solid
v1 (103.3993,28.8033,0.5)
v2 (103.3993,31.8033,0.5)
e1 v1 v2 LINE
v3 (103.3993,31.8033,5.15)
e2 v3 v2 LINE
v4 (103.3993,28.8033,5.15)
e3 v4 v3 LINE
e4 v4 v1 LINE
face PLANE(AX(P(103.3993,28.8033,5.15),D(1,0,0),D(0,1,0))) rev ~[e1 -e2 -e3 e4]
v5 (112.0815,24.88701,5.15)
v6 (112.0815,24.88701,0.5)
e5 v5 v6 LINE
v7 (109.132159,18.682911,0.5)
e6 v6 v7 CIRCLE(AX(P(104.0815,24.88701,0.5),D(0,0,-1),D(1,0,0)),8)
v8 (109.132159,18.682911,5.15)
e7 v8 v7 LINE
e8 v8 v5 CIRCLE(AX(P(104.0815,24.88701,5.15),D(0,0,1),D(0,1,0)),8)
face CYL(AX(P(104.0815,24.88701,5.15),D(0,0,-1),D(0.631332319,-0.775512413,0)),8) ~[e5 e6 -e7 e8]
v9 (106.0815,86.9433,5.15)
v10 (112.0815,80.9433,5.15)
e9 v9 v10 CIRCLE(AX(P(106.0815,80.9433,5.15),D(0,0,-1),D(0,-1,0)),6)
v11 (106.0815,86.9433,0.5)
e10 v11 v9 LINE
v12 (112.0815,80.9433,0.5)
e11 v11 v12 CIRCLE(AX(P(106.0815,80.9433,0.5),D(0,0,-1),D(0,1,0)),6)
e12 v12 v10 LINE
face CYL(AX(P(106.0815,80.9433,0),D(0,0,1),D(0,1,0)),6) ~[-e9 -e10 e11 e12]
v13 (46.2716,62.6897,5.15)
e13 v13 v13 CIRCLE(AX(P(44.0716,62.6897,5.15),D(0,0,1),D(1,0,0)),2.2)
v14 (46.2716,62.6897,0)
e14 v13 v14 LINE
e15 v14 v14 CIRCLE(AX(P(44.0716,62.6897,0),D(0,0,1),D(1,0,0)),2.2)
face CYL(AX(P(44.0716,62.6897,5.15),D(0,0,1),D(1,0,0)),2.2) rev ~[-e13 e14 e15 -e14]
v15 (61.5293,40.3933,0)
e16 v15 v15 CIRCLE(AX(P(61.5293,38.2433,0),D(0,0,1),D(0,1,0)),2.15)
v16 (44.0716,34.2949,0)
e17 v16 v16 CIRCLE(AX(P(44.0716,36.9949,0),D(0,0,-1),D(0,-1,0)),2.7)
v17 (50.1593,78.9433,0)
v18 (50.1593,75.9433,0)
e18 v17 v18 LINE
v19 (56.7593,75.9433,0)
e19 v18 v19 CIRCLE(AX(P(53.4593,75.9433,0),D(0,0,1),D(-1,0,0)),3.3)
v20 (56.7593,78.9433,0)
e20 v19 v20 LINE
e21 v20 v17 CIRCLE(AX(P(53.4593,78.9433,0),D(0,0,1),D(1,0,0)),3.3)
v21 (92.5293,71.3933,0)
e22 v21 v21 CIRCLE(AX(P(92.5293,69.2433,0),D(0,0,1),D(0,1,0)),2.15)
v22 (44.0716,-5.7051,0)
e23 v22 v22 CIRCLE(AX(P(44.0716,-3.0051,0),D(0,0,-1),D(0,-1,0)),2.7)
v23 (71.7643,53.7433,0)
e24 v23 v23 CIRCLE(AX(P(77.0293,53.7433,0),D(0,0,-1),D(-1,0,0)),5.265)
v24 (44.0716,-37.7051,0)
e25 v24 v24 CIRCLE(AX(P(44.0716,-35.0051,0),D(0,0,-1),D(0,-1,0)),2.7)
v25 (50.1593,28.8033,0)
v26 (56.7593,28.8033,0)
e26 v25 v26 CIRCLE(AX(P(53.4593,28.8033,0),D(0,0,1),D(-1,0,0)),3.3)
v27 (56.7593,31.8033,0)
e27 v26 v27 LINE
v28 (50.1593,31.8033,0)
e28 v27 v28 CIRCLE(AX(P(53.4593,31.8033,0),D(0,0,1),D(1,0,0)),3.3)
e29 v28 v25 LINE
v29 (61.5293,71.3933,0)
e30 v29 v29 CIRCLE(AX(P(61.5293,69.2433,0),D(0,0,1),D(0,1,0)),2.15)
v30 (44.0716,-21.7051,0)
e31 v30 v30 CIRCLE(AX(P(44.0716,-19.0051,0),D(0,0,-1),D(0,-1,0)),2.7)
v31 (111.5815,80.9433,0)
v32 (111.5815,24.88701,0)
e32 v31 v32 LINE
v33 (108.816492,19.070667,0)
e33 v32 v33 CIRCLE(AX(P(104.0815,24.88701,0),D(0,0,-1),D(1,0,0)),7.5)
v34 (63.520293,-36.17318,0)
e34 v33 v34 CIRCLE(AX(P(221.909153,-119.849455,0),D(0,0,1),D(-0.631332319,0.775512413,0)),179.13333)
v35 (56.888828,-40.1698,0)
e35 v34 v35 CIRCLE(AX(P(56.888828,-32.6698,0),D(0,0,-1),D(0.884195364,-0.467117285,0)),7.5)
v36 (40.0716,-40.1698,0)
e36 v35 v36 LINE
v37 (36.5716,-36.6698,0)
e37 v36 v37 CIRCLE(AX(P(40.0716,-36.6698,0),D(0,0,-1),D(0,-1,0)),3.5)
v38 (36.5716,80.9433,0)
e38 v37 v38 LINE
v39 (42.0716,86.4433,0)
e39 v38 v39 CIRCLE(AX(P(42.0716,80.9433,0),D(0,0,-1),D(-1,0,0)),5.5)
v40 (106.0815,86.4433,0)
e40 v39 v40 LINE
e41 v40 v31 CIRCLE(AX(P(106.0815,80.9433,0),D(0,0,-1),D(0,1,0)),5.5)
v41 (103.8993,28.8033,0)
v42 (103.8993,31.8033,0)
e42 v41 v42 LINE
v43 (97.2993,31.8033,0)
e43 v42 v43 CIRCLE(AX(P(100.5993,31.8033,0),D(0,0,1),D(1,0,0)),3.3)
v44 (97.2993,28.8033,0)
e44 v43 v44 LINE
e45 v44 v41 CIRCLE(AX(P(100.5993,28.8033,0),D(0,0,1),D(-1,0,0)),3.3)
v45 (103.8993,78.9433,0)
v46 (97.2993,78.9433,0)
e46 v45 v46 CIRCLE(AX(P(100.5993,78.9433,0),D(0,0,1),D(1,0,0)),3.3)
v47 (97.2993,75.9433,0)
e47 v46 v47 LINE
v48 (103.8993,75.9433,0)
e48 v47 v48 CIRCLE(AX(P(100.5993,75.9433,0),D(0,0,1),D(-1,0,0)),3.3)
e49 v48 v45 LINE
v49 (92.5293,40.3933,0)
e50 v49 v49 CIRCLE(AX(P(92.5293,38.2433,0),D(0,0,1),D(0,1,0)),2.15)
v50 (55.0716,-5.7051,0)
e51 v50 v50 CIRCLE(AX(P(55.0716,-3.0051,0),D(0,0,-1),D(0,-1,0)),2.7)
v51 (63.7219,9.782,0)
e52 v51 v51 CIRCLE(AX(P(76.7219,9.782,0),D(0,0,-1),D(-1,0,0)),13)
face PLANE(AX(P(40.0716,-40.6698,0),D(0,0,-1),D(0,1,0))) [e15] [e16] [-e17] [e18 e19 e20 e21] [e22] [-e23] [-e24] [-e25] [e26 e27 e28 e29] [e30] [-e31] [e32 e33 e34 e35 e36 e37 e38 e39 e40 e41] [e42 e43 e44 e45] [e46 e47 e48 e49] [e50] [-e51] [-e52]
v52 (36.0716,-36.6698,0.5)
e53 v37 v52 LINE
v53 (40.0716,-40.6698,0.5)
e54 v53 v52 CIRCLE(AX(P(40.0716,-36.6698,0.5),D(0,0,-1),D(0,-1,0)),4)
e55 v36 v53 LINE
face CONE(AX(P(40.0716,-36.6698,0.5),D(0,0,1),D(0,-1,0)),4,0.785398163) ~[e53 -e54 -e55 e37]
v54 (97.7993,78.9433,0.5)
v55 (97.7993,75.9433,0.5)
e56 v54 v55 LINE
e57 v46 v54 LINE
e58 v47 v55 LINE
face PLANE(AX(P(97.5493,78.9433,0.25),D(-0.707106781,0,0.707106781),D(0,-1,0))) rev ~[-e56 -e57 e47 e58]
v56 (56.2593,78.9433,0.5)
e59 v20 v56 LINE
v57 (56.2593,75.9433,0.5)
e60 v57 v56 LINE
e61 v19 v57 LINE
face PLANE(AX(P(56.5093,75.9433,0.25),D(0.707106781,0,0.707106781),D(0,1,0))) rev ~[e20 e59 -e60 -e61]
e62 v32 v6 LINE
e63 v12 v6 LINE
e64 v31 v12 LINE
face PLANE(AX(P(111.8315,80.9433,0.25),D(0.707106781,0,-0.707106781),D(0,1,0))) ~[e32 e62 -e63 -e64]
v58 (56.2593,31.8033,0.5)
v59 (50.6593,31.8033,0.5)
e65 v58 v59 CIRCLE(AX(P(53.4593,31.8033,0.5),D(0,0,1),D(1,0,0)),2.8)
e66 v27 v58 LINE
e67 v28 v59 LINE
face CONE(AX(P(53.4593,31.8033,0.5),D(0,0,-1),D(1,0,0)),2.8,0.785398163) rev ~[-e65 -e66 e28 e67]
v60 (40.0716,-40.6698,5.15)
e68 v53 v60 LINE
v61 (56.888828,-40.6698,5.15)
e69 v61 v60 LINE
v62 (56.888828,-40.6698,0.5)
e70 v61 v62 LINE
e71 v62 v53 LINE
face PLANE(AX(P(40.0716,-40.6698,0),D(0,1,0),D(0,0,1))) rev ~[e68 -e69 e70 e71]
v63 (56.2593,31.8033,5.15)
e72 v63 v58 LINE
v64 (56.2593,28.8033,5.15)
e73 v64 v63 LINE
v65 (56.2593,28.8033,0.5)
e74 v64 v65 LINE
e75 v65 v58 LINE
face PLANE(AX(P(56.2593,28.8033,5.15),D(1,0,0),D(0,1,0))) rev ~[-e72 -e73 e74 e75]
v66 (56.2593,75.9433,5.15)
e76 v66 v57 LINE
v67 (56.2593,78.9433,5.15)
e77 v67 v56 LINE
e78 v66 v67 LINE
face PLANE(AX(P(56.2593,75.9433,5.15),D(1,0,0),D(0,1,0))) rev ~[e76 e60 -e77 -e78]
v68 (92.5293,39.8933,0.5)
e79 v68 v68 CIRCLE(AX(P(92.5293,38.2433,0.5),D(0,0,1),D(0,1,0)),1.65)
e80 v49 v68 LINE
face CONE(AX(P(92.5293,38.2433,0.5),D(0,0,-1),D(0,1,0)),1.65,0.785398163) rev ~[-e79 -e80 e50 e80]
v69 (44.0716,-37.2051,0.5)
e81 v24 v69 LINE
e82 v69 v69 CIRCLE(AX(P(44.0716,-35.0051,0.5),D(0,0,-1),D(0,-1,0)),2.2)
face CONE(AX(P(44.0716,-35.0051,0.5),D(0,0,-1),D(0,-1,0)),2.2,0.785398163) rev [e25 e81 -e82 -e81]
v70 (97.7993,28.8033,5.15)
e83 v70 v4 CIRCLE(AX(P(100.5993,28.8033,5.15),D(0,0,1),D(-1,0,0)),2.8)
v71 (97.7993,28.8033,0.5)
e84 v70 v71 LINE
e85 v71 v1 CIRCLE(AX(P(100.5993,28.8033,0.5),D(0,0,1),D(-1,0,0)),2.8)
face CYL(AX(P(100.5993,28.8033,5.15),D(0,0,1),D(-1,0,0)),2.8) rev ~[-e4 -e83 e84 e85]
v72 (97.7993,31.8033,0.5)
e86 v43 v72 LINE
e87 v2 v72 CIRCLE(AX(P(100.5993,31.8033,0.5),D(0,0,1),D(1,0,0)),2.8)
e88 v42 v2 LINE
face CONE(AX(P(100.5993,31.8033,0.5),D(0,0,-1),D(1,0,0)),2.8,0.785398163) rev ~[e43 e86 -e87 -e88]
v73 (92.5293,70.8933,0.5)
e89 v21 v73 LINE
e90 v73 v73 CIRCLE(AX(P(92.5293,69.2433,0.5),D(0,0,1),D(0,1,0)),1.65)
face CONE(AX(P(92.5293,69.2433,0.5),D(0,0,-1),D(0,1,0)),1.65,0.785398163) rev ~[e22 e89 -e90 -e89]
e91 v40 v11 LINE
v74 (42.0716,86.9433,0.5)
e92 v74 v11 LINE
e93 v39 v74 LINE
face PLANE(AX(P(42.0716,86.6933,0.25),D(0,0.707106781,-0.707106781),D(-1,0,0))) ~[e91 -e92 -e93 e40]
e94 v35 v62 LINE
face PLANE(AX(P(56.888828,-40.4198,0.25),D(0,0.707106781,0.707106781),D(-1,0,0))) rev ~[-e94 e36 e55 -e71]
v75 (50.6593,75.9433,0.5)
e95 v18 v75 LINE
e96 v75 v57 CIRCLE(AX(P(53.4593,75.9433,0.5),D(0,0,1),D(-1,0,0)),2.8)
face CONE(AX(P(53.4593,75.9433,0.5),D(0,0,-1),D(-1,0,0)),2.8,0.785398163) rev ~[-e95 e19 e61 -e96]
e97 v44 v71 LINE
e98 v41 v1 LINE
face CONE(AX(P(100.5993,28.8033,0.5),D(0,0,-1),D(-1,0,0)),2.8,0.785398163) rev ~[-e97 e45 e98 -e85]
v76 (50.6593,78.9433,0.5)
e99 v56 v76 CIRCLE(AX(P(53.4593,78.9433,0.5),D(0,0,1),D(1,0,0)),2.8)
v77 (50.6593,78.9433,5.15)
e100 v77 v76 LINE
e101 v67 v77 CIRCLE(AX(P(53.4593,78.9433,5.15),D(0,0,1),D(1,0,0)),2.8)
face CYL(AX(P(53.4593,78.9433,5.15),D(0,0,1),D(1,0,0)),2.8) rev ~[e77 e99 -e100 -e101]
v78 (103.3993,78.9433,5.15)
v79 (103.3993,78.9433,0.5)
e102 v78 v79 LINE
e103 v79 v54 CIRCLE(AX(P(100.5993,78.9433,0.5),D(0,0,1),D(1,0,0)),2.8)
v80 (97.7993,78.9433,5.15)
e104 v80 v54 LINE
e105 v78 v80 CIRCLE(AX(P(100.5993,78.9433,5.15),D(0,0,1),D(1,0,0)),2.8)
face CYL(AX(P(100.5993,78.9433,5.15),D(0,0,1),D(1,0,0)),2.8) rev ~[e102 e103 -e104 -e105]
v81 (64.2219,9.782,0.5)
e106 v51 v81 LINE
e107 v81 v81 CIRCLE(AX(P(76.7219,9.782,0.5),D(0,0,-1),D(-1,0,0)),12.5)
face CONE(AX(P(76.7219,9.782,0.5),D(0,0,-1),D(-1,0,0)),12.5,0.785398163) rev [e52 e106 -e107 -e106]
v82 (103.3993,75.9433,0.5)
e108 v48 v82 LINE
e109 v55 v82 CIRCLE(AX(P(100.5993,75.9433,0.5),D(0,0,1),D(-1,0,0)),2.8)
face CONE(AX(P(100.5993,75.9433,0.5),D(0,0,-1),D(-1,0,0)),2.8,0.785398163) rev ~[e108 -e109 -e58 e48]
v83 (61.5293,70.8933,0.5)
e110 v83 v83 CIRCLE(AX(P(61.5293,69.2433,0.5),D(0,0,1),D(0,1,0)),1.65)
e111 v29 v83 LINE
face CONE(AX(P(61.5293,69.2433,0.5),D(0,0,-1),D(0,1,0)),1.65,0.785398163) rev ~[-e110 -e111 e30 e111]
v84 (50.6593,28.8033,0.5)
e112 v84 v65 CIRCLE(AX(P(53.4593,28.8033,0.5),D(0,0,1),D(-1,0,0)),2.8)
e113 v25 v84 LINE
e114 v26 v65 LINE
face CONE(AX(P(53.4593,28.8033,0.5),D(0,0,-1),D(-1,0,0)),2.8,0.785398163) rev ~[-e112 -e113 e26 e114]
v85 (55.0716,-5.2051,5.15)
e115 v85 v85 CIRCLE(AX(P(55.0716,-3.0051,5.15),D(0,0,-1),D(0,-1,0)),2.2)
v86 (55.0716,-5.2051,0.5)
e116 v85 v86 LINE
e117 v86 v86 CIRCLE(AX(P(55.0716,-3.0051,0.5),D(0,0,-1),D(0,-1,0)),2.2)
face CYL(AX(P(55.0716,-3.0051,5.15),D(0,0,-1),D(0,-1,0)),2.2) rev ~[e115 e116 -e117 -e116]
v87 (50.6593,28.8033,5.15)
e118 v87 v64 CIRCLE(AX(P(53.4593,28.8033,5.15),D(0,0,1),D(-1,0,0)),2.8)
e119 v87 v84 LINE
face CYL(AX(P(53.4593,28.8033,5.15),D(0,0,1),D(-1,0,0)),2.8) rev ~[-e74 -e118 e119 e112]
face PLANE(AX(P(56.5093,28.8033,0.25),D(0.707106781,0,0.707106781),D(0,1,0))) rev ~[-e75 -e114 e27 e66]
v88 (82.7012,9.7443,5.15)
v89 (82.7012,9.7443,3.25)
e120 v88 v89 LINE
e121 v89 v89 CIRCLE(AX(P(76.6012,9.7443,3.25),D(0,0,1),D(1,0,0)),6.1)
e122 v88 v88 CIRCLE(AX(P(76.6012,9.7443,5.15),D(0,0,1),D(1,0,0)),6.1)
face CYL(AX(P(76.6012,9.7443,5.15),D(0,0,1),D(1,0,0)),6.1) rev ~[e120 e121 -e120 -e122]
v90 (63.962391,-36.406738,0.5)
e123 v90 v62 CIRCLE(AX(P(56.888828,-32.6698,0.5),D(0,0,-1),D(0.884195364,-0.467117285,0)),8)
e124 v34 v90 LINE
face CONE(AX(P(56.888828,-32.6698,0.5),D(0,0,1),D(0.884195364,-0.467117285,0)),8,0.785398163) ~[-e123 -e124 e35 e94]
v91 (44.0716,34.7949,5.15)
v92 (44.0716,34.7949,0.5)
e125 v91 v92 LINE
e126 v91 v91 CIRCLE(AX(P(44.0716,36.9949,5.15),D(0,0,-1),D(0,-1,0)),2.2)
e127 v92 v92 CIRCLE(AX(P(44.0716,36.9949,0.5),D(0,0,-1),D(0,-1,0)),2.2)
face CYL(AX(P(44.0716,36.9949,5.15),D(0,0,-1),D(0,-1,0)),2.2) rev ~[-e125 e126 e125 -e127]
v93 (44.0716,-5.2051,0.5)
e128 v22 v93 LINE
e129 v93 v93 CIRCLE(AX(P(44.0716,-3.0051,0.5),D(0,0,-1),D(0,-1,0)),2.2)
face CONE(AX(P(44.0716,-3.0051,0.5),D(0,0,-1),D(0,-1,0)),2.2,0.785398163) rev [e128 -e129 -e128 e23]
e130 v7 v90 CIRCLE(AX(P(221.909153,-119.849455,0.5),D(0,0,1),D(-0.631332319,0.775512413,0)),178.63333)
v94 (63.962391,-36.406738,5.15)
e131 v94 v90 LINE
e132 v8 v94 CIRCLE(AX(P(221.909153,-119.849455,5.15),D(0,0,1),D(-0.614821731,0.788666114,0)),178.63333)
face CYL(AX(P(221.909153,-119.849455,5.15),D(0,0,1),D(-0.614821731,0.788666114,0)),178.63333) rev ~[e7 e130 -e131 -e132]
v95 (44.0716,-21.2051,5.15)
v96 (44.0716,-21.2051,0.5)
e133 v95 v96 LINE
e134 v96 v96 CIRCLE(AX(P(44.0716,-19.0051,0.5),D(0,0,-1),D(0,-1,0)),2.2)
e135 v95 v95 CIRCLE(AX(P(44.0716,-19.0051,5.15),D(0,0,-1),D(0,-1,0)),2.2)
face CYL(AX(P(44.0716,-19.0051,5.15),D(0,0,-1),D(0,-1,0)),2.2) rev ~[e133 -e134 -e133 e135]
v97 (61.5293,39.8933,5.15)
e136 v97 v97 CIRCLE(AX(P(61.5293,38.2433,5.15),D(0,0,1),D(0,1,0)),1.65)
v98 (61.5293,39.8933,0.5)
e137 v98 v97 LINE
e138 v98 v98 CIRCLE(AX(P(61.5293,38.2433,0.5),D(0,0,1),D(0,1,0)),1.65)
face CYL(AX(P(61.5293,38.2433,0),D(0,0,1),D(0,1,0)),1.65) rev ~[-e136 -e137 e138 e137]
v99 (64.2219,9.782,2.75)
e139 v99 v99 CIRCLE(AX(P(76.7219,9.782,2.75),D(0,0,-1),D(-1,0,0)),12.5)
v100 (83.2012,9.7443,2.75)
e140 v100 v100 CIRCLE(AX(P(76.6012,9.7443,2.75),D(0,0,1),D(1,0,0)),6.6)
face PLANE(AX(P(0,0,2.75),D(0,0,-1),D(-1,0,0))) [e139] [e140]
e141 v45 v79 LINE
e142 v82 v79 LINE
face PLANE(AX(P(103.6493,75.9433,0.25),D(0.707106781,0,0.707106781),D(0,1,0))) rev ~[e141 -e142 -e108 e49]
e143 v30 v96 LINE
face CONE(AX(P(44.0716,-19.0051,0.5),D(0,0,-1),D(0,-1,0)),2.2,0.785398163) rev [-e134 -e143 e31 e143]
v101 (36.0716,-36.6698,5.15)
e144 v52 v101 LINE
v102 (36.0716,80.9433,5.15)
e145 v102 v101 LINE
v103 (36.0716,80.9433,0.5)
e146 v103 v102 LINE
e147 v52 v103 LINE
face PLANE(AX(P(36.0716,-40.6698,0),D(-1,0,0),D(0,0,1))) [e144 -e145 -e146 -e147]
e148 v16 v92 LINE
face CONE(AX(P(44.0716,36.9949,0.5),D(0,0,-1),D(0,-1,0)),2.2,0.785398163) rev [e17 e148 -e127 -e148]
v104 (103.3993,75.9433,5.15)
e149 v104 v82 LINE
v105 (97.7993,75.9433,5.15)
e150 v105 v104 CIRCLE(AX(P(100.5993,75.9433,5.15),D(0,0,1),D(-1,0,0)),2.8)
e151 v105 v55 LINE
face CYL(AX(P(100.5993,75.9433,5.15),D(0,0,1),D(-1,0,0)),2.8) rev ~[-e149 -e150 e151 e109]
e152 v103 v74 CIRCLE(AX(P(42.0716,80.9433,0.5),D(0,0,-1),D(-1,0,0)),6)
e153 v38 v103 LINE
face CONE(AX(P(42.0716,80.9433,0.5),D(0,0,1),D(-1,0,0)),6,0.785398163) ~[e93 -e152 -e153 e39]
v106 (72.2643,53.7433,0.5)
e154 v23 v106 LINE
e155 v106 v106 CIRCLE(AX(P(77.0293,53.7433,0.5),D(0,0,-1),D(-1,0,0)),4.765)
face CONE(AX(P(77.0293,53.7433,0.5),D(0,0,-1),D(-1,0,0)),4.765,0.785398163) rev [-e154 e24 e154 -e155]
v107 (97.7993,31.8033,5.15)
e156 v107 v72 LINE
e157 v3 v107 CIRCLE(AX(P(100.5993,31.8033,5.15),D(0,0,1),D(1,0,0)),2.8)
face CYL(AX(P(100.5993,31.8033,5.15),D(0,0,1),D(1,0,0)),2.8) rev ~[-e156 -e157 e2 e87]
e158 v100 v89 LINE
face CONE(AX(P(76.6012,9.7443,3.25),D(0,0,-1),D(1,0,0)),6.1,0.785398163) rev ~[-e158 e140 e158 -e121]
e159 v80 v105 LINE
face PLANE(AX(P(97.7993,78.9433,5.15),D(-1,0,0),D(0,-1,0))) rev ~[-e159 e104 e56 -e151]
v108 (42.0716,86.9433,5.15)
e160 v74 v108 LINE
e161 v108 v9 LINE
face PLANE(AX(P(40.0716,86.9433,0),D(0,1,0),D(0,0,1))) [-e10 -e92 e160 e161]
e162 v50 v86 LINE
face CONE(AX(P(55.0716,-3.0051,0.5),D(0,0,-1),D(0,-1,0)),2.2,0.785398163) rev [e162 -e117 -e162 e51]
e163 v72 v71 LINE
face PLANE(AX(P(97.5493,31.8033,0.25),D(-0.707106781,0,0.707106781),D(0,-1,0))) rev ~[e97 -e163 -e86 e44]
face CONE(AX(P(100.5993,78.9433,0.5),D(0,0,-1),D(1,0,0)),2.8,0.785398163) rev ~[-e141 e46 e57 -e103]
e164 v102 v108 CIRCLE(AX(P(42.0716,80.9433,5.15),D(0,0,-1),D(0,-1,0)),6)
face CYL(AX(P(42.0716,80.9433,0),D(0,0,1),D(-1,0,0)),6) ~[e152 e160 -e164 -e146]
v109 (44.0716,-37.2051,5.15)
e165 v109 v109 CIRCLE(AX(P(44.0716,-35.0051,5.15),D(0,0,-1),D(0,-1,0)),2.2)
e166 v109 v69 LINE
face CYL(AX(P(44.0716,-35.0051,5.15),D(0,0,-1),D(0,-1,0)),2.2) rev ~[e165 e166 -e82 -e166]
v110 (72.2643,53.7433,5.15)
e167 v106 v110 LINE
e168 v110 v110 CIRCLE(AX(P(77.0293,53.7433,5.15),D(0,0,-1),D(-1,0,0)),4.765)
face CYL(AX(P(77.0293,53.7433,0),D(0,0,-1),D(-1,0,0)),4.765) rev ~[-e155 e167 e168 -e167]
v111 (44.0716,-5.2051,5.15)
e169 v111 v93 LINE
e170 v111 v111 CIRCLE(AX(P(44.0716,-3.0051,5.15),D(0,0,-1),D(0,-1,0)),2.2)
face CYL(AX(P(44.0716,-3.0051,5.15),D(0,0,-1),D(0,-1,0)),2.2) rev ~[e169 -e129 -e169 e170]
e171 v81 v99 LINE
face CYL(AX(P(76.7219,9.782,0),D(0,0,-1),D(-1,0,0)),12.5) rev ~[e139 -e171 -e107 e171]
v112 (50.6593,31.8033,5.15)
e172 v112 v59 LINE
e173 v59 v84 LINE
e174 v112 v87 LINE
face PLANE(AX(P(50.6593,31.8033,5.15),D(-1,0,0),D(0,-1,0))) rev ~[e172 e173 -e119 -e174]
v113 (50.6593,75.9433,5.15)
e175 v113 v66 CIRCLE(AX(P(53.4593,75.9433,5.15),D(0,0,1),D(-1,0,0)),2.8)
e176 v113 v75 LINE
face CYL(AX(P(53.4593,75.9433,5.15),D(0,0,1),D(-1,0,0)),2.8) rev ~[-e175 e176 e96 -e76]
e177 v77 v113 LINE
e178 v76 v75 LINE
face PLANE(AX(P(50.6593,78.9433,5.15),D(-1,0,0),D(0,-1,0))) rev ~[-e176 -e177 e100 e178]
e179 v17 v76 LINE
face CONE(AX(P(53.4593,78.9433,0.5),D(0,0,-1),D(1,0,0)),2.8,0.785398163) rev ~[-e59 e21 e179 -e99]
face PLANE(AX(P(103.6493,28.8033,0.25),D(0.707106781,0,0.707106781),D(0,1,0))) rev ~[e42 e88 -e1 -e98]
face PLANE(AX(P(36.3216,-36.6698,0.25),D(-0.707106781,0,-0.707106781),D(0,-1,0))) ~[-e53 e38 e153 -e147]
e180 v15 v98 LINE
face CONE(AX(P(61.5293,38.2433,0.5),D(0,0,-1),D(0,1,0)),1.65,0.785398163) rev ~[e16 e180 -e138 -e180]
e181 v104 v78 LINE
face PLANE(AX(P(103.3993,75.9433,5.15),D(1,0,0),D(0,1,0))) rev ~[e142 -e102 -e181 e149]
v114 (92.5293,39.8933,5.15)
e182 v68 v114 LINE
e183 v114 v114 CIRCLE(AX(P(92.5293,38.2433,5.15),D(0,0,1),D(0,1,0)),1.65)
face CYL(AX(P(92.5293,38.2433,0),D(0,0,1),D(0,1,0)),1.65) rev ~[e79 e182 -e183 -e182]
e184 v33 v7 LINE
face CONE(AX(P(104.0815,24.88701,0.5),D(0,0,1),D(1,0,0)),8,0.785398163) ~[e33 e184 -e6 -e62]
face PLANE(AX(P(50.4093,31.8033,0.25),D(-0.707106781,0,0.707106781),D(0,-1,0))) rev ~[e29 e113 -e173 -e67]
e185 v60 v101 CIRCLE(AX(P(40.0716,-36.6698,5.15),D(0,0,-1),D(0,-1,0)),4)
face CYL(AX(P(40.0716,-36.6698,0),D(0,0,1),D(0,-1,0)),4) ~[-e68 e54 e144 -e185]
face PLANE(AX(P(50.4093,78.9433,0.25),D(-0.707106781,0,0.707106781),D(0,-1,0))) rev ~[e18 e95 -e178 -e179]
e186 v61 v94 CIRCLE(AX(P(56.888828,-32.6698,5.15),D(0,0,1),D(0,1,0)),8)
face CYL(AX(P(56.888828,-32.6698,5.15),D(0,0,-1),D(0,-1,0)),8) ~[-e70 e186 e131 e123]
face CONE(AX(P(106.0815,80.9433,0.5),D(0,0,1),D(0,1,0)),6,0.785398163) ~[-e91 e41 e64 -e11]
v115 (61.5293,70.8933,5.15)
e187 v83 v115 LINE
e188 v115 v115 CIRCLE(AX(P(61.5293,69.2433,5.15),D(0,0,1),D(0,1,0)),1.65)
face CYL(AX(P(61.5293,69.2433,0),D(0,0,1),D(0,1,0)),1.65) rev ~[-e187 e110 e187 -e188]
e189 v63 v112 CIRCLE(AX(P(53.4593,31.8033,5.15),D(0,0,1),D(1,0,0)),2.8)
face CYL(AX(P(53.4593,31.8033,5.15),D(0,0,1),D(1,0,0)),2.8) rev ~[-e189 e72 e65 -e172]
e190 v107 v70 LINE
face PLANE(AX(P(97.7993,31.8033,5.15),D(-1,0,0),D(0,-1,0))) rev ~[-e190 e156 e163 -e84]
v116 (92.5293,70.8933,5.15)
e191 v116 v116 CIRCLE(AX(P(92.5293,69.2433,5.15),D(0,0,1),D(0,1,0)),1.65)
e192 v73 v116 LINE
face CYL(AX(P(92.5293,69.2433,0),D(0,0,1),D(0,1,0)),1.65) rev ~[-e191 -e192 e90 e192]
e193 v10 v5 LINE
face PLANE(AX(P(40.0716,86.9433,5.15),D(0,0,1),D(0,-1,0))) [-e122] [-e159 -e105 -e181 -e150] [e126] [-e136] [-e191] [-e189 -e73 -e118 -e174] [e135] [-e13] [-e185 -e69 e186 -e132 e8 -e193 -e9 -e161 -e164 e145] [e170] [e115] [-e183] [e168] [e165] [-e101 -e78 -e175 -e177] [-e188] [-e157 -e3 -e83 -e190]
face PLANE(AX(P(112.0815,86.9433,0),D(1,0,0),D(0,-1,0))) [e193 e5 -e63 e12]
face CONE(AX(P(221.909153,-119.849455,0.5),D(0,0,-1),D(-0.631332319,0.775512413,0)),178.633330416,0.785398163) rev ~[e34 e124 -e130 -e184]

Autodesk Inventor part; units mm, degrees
ref_plane "YZ Plane" through (0, 0, 0) normal (1, 0, 0) x (0, 1, 0)
ref_plane "XZ Plane" through (0, 0, 0) normal (0, 1, 0) x (-1, 0, 0)
sketch "Sketch1" plane through (0, 0, 0) normal (0, 0, 1) x (1, 0, 0)
  line L0 (112.0815, -40.6698) -> (40.0716, -40.6698)
  line L1 (40.0716, -40.6698) -> (40.0716, 86.9433)
  line L2 (40.0716, 86.9433) -> (112.0815, 86.9433)
  line L3 (112.0815, 86.9433) -> (112.0815, -40.6698)
  line L4 (40.0716, -40.6698) -> (50.0716, -40.6698) construction
  point P0 (0, 0)
extrude "Extrusion1" add sketch "Sketch1" along normal blind 5.15
sketch "Sketch2" plane through (0, 0, 5.15) normal (0, 0, 1) x (1, 0, 0)
  point P0 (0, 0)
sketch "Sketch4" plane through (0, 0, 5.15) normal (0, 0, 1) x (1, 0, 0)
  circle A0 centre (102.6515, 97.6673) radius 2.8 construction
  circle A1 centre (53.4593, 78.9433) radius 2.8 construction
  circle A2 centre (55.5115, 50.5273) radius 2.8 construction
  circle A3 centre (102.6515, 50.5273) radius 2.8 construction
  line L0 (53.4593, 78.9433) -> (53.4593, 75.9433) construction
  line L1 (50.6593, 78.9433) -> (50.6593, 75.9433)
  line L2 (56.2593, 75.9433) -> (56.2593, 78.9433)
  arc A4 (56.2593, 78.9433) -> (50.6593, 78.9433) centre (53.4593, 78.9433) ccw
  arc A5 (50.6593, 75.9433) -> (56.2593, 75.9433) centre (53.4593, 75.9433) ccw
  line L3 (40.0716, 86.9433) -> (40.0716, -40.6698) projected
  line L4 (112.0815, 86.9433) -> (40.0716, 86.9433) projected
  circle A6 centre (53.4593, 77.3133) radius 5 projected
  line L5 (53.4593, 77.3133) -> (53.4593, 77.5733) construction
  point P0 (0, 0)
  point P1 (53.4593, 77.4433)
  point P2 (40.0716, -42.6698)
  point P3 (53.4593, 77.4433)
  dimension "d7" = 3
  dimension "d27" = 5.6
  dimension "d29" = 8
extrude "Extrusion3" cut sketch "Sketch4" against normal through all contours A4 L2 A5 L1
pattern_linear "Rectangular Pattern1" count 2 spacing 47.14 along (1, 0, 0) count 2 spacing 47.14 along (0, -1, 0) of "Extrusion3"
sketch "Sketch9" plane through (0, 0, 5.15) normal (0, 0, 1) x (1, 0, 0)
  point P0 (55.0716, -3.0051)
  point P1 (44.0716, -3.0051)
  point P2 (44.0716, -19.0051)
  point P3 (44.0716, -35.0051)
  point P4 (44.0716, 36.9949)
hole "Hole1" at (55.0716, -3.0051, 5.15) at (44.0716, -3.0051, 5.15) at (44.0716, -19.0051, 5.15) at (44.0716, -35.0051, 5.15) at (44.0716, 36.9949, 5.15) direction (0, 0, -1) diameter 4.4 depth 5.15
sketch "Sketch12" plane through (0, 0, 5.15) normal (0, 0, 1) x (1, 0, 0)
  line L0 (40.0716, -40.6698) -> (112.0815, -40.6698) projected
  arc A0 (112.0815, 21.0326) -> (61.7828, -40.6698) centre (221.9091, -119.8494) ccw
  line L1 (112.0815, -40.6698) -> (112.0815, 86.9433) projected
  point P0 (0, 0)
extrude "Extrusion9" cut sketch "Sketch12" against normal through all
fillet "Fillet1" radius 8 2 edges at (61.7828, -40.6698, 2.575) (112.0815, 21.0326, 2.575)
ref_plane "Work Plane1" through (16.3274, 9.3302, 5.6189) normal (-0.0349, 0, -0.9994) x (0, 1, 0)
sketch "Sketch14" plane through (40.0716, -40.6698, 0) normal (-1, 0, 0) x (0, 0, 1)
  line L0 (0, 0) -> (0, 127.6131) projected
  line L1 (0, 0) -> (5.15, 0) projected
  line L2 (5.15, 127.6131) -> (5.15, 0) projected
  line L3 (0, 127.6131) -> (5.15, 127.6131) projected
  point P0 (0, 40.6698)
extrude "Extrusion11" add sketch "Sketch14" along normal blind 4
fillet "Fillet4" radius 4 1 edges at (36.0716, -40.6698, 2.575)
fillet "Fillet5" radius 6 2 edges at (36.0716, 86.9433, 2.575) (112.0815, 86.9433, 2.575)
sketch "Sketch15" plane through (0, 0, 0) normal (0, 0, -1) x (-1, 0, 0)
  circle A0 centre (-77.0293, 53.7433) radius 3.175 construction
  circle A1 centre (-77.0293, 53.7433) radius 3.175 construction
  circle A2 centre (-77.0293, 53.7433) radius 3.475 construction
  circle A3 centre (-77.0293, 53.7433) radius 3.475 construction
  circle A4 centre (-77.0293, 53.7433) radius 4.765
  point P0 (0, 0)
  dimension "d67" = 9.53
extrude "Extrusion12" cut sketch "Sketch15" against normal through all
sketch "Sketch16" plane through (0, 0, 5.15) normal (0, 0, 1) x (1, 0, 0)
  circle A0 centre (76.6012, 9.7443) radius 6.1
  point P0 (0, 0)
  dimension "d68" = 12.2
extrude "Extrusion13" cut sketch "Sketch16" against normal through all
sketch "Sketch17" plane through (0, 0, 0) normal (0, 0, -1) x (-1, 0, 0)
  circle A0 centre (-76.7219, 9.782) radius 12.5
  point P0 (0, 0)
  dimension "d71" = 25
extrude "Extrusion14" cut sketch "Sketch17" against normal blind 2.75
sketch "Sketch18" plane through (0, 0, 0) normal (0, 0, -1) x (-1, 0, 0)
  circle A0 centre (-92.5293, 69.2433) radius 1.25 construction
  circle A1 centre (-61.5293, 69.2433) radius 1.25 construction
  circle A2 centre (-92.5293, 38.2433) radius 1.25 construction
  circle A3 centre (-61.5293, 38.2433) radius 1.25 construction
  point P0 (0, 0)
hole "Hole2" at (92.5293, 69.2433, 0) at (61.5293, 69.2433, 0) at (61.5293, 38.2433, 0) at (92.5293, 38.2433, 0) direction (0, 0, 1) diameter 3.3 depth 6
chamfer "Chamfer1" distance 0.5 angle 45 28 edges at (81.7943, 53.7433, 0) (89.2219, 9.782, 0) (70.5012, 9.7443, 2.75) (100.5993, 26.0033, 0) (103.3993, 30.3033, 0) (100.5993, 34.6033, 0) (97.7993, 30.3033, 0) (61.5293, 36.5933, 0) (61.5293, 67.5933, 0) (92.5293, 36.5933, 0) (92.5293, 67.5933, 0) (53.4593, 26.0033, 0) (56.2593, 30.3033, 0) (53.4593, 34.6033, 0) (50.6593, 30.3033, 0) (44.0716, -32.8051, 0) (44.0716, -16.8051, 0) (44.0716, -0.8051, 0) (55.0716, -0.8051, 0) (44.0716, 39.1949, 0) (100.5993, 73.1433, 0) (103.3993, 77.4433, 0) (100.5993, 81.7433, 0) (97.7993, 77.4433, 0) (53.4593, 73.1433, 0) (56.2593, 77.4433, 0) (53.4593, 81.7433, 0) (50.6593, 77.4433, 0)
chamfer "Chamfer2" distance 0.5 angle 45 9 edges at (83.7732, -6.5873, 0) (61.0183, -39.5216, 0) (48.4802, -40.6698, 0) (36.0716, 22.1368, 0) (37.829, 85.186, 0) (74.0766, 86.9433, 0) (110.3242, 85.186, 0) (112.0815, 52.9152, 0) (111.3067, 21.4523, 0)
sketch "Sketch19" plane through (0, 0, 5.15) normal (0, 0, 1) x (1, 0, 0)
  circle A0 centre (44.0716, 62.6897) radius 2.2
  circle A1 centre (44.0716, 36.9949) radius 2.2 construction
  point P0 (0, 0)
  dimension "d87" = 4.4
extrude "Extrusion15" cut sketch "Sketch19" against normal through all
properties part number "XMotorMount" material "Aluminum 6061"
